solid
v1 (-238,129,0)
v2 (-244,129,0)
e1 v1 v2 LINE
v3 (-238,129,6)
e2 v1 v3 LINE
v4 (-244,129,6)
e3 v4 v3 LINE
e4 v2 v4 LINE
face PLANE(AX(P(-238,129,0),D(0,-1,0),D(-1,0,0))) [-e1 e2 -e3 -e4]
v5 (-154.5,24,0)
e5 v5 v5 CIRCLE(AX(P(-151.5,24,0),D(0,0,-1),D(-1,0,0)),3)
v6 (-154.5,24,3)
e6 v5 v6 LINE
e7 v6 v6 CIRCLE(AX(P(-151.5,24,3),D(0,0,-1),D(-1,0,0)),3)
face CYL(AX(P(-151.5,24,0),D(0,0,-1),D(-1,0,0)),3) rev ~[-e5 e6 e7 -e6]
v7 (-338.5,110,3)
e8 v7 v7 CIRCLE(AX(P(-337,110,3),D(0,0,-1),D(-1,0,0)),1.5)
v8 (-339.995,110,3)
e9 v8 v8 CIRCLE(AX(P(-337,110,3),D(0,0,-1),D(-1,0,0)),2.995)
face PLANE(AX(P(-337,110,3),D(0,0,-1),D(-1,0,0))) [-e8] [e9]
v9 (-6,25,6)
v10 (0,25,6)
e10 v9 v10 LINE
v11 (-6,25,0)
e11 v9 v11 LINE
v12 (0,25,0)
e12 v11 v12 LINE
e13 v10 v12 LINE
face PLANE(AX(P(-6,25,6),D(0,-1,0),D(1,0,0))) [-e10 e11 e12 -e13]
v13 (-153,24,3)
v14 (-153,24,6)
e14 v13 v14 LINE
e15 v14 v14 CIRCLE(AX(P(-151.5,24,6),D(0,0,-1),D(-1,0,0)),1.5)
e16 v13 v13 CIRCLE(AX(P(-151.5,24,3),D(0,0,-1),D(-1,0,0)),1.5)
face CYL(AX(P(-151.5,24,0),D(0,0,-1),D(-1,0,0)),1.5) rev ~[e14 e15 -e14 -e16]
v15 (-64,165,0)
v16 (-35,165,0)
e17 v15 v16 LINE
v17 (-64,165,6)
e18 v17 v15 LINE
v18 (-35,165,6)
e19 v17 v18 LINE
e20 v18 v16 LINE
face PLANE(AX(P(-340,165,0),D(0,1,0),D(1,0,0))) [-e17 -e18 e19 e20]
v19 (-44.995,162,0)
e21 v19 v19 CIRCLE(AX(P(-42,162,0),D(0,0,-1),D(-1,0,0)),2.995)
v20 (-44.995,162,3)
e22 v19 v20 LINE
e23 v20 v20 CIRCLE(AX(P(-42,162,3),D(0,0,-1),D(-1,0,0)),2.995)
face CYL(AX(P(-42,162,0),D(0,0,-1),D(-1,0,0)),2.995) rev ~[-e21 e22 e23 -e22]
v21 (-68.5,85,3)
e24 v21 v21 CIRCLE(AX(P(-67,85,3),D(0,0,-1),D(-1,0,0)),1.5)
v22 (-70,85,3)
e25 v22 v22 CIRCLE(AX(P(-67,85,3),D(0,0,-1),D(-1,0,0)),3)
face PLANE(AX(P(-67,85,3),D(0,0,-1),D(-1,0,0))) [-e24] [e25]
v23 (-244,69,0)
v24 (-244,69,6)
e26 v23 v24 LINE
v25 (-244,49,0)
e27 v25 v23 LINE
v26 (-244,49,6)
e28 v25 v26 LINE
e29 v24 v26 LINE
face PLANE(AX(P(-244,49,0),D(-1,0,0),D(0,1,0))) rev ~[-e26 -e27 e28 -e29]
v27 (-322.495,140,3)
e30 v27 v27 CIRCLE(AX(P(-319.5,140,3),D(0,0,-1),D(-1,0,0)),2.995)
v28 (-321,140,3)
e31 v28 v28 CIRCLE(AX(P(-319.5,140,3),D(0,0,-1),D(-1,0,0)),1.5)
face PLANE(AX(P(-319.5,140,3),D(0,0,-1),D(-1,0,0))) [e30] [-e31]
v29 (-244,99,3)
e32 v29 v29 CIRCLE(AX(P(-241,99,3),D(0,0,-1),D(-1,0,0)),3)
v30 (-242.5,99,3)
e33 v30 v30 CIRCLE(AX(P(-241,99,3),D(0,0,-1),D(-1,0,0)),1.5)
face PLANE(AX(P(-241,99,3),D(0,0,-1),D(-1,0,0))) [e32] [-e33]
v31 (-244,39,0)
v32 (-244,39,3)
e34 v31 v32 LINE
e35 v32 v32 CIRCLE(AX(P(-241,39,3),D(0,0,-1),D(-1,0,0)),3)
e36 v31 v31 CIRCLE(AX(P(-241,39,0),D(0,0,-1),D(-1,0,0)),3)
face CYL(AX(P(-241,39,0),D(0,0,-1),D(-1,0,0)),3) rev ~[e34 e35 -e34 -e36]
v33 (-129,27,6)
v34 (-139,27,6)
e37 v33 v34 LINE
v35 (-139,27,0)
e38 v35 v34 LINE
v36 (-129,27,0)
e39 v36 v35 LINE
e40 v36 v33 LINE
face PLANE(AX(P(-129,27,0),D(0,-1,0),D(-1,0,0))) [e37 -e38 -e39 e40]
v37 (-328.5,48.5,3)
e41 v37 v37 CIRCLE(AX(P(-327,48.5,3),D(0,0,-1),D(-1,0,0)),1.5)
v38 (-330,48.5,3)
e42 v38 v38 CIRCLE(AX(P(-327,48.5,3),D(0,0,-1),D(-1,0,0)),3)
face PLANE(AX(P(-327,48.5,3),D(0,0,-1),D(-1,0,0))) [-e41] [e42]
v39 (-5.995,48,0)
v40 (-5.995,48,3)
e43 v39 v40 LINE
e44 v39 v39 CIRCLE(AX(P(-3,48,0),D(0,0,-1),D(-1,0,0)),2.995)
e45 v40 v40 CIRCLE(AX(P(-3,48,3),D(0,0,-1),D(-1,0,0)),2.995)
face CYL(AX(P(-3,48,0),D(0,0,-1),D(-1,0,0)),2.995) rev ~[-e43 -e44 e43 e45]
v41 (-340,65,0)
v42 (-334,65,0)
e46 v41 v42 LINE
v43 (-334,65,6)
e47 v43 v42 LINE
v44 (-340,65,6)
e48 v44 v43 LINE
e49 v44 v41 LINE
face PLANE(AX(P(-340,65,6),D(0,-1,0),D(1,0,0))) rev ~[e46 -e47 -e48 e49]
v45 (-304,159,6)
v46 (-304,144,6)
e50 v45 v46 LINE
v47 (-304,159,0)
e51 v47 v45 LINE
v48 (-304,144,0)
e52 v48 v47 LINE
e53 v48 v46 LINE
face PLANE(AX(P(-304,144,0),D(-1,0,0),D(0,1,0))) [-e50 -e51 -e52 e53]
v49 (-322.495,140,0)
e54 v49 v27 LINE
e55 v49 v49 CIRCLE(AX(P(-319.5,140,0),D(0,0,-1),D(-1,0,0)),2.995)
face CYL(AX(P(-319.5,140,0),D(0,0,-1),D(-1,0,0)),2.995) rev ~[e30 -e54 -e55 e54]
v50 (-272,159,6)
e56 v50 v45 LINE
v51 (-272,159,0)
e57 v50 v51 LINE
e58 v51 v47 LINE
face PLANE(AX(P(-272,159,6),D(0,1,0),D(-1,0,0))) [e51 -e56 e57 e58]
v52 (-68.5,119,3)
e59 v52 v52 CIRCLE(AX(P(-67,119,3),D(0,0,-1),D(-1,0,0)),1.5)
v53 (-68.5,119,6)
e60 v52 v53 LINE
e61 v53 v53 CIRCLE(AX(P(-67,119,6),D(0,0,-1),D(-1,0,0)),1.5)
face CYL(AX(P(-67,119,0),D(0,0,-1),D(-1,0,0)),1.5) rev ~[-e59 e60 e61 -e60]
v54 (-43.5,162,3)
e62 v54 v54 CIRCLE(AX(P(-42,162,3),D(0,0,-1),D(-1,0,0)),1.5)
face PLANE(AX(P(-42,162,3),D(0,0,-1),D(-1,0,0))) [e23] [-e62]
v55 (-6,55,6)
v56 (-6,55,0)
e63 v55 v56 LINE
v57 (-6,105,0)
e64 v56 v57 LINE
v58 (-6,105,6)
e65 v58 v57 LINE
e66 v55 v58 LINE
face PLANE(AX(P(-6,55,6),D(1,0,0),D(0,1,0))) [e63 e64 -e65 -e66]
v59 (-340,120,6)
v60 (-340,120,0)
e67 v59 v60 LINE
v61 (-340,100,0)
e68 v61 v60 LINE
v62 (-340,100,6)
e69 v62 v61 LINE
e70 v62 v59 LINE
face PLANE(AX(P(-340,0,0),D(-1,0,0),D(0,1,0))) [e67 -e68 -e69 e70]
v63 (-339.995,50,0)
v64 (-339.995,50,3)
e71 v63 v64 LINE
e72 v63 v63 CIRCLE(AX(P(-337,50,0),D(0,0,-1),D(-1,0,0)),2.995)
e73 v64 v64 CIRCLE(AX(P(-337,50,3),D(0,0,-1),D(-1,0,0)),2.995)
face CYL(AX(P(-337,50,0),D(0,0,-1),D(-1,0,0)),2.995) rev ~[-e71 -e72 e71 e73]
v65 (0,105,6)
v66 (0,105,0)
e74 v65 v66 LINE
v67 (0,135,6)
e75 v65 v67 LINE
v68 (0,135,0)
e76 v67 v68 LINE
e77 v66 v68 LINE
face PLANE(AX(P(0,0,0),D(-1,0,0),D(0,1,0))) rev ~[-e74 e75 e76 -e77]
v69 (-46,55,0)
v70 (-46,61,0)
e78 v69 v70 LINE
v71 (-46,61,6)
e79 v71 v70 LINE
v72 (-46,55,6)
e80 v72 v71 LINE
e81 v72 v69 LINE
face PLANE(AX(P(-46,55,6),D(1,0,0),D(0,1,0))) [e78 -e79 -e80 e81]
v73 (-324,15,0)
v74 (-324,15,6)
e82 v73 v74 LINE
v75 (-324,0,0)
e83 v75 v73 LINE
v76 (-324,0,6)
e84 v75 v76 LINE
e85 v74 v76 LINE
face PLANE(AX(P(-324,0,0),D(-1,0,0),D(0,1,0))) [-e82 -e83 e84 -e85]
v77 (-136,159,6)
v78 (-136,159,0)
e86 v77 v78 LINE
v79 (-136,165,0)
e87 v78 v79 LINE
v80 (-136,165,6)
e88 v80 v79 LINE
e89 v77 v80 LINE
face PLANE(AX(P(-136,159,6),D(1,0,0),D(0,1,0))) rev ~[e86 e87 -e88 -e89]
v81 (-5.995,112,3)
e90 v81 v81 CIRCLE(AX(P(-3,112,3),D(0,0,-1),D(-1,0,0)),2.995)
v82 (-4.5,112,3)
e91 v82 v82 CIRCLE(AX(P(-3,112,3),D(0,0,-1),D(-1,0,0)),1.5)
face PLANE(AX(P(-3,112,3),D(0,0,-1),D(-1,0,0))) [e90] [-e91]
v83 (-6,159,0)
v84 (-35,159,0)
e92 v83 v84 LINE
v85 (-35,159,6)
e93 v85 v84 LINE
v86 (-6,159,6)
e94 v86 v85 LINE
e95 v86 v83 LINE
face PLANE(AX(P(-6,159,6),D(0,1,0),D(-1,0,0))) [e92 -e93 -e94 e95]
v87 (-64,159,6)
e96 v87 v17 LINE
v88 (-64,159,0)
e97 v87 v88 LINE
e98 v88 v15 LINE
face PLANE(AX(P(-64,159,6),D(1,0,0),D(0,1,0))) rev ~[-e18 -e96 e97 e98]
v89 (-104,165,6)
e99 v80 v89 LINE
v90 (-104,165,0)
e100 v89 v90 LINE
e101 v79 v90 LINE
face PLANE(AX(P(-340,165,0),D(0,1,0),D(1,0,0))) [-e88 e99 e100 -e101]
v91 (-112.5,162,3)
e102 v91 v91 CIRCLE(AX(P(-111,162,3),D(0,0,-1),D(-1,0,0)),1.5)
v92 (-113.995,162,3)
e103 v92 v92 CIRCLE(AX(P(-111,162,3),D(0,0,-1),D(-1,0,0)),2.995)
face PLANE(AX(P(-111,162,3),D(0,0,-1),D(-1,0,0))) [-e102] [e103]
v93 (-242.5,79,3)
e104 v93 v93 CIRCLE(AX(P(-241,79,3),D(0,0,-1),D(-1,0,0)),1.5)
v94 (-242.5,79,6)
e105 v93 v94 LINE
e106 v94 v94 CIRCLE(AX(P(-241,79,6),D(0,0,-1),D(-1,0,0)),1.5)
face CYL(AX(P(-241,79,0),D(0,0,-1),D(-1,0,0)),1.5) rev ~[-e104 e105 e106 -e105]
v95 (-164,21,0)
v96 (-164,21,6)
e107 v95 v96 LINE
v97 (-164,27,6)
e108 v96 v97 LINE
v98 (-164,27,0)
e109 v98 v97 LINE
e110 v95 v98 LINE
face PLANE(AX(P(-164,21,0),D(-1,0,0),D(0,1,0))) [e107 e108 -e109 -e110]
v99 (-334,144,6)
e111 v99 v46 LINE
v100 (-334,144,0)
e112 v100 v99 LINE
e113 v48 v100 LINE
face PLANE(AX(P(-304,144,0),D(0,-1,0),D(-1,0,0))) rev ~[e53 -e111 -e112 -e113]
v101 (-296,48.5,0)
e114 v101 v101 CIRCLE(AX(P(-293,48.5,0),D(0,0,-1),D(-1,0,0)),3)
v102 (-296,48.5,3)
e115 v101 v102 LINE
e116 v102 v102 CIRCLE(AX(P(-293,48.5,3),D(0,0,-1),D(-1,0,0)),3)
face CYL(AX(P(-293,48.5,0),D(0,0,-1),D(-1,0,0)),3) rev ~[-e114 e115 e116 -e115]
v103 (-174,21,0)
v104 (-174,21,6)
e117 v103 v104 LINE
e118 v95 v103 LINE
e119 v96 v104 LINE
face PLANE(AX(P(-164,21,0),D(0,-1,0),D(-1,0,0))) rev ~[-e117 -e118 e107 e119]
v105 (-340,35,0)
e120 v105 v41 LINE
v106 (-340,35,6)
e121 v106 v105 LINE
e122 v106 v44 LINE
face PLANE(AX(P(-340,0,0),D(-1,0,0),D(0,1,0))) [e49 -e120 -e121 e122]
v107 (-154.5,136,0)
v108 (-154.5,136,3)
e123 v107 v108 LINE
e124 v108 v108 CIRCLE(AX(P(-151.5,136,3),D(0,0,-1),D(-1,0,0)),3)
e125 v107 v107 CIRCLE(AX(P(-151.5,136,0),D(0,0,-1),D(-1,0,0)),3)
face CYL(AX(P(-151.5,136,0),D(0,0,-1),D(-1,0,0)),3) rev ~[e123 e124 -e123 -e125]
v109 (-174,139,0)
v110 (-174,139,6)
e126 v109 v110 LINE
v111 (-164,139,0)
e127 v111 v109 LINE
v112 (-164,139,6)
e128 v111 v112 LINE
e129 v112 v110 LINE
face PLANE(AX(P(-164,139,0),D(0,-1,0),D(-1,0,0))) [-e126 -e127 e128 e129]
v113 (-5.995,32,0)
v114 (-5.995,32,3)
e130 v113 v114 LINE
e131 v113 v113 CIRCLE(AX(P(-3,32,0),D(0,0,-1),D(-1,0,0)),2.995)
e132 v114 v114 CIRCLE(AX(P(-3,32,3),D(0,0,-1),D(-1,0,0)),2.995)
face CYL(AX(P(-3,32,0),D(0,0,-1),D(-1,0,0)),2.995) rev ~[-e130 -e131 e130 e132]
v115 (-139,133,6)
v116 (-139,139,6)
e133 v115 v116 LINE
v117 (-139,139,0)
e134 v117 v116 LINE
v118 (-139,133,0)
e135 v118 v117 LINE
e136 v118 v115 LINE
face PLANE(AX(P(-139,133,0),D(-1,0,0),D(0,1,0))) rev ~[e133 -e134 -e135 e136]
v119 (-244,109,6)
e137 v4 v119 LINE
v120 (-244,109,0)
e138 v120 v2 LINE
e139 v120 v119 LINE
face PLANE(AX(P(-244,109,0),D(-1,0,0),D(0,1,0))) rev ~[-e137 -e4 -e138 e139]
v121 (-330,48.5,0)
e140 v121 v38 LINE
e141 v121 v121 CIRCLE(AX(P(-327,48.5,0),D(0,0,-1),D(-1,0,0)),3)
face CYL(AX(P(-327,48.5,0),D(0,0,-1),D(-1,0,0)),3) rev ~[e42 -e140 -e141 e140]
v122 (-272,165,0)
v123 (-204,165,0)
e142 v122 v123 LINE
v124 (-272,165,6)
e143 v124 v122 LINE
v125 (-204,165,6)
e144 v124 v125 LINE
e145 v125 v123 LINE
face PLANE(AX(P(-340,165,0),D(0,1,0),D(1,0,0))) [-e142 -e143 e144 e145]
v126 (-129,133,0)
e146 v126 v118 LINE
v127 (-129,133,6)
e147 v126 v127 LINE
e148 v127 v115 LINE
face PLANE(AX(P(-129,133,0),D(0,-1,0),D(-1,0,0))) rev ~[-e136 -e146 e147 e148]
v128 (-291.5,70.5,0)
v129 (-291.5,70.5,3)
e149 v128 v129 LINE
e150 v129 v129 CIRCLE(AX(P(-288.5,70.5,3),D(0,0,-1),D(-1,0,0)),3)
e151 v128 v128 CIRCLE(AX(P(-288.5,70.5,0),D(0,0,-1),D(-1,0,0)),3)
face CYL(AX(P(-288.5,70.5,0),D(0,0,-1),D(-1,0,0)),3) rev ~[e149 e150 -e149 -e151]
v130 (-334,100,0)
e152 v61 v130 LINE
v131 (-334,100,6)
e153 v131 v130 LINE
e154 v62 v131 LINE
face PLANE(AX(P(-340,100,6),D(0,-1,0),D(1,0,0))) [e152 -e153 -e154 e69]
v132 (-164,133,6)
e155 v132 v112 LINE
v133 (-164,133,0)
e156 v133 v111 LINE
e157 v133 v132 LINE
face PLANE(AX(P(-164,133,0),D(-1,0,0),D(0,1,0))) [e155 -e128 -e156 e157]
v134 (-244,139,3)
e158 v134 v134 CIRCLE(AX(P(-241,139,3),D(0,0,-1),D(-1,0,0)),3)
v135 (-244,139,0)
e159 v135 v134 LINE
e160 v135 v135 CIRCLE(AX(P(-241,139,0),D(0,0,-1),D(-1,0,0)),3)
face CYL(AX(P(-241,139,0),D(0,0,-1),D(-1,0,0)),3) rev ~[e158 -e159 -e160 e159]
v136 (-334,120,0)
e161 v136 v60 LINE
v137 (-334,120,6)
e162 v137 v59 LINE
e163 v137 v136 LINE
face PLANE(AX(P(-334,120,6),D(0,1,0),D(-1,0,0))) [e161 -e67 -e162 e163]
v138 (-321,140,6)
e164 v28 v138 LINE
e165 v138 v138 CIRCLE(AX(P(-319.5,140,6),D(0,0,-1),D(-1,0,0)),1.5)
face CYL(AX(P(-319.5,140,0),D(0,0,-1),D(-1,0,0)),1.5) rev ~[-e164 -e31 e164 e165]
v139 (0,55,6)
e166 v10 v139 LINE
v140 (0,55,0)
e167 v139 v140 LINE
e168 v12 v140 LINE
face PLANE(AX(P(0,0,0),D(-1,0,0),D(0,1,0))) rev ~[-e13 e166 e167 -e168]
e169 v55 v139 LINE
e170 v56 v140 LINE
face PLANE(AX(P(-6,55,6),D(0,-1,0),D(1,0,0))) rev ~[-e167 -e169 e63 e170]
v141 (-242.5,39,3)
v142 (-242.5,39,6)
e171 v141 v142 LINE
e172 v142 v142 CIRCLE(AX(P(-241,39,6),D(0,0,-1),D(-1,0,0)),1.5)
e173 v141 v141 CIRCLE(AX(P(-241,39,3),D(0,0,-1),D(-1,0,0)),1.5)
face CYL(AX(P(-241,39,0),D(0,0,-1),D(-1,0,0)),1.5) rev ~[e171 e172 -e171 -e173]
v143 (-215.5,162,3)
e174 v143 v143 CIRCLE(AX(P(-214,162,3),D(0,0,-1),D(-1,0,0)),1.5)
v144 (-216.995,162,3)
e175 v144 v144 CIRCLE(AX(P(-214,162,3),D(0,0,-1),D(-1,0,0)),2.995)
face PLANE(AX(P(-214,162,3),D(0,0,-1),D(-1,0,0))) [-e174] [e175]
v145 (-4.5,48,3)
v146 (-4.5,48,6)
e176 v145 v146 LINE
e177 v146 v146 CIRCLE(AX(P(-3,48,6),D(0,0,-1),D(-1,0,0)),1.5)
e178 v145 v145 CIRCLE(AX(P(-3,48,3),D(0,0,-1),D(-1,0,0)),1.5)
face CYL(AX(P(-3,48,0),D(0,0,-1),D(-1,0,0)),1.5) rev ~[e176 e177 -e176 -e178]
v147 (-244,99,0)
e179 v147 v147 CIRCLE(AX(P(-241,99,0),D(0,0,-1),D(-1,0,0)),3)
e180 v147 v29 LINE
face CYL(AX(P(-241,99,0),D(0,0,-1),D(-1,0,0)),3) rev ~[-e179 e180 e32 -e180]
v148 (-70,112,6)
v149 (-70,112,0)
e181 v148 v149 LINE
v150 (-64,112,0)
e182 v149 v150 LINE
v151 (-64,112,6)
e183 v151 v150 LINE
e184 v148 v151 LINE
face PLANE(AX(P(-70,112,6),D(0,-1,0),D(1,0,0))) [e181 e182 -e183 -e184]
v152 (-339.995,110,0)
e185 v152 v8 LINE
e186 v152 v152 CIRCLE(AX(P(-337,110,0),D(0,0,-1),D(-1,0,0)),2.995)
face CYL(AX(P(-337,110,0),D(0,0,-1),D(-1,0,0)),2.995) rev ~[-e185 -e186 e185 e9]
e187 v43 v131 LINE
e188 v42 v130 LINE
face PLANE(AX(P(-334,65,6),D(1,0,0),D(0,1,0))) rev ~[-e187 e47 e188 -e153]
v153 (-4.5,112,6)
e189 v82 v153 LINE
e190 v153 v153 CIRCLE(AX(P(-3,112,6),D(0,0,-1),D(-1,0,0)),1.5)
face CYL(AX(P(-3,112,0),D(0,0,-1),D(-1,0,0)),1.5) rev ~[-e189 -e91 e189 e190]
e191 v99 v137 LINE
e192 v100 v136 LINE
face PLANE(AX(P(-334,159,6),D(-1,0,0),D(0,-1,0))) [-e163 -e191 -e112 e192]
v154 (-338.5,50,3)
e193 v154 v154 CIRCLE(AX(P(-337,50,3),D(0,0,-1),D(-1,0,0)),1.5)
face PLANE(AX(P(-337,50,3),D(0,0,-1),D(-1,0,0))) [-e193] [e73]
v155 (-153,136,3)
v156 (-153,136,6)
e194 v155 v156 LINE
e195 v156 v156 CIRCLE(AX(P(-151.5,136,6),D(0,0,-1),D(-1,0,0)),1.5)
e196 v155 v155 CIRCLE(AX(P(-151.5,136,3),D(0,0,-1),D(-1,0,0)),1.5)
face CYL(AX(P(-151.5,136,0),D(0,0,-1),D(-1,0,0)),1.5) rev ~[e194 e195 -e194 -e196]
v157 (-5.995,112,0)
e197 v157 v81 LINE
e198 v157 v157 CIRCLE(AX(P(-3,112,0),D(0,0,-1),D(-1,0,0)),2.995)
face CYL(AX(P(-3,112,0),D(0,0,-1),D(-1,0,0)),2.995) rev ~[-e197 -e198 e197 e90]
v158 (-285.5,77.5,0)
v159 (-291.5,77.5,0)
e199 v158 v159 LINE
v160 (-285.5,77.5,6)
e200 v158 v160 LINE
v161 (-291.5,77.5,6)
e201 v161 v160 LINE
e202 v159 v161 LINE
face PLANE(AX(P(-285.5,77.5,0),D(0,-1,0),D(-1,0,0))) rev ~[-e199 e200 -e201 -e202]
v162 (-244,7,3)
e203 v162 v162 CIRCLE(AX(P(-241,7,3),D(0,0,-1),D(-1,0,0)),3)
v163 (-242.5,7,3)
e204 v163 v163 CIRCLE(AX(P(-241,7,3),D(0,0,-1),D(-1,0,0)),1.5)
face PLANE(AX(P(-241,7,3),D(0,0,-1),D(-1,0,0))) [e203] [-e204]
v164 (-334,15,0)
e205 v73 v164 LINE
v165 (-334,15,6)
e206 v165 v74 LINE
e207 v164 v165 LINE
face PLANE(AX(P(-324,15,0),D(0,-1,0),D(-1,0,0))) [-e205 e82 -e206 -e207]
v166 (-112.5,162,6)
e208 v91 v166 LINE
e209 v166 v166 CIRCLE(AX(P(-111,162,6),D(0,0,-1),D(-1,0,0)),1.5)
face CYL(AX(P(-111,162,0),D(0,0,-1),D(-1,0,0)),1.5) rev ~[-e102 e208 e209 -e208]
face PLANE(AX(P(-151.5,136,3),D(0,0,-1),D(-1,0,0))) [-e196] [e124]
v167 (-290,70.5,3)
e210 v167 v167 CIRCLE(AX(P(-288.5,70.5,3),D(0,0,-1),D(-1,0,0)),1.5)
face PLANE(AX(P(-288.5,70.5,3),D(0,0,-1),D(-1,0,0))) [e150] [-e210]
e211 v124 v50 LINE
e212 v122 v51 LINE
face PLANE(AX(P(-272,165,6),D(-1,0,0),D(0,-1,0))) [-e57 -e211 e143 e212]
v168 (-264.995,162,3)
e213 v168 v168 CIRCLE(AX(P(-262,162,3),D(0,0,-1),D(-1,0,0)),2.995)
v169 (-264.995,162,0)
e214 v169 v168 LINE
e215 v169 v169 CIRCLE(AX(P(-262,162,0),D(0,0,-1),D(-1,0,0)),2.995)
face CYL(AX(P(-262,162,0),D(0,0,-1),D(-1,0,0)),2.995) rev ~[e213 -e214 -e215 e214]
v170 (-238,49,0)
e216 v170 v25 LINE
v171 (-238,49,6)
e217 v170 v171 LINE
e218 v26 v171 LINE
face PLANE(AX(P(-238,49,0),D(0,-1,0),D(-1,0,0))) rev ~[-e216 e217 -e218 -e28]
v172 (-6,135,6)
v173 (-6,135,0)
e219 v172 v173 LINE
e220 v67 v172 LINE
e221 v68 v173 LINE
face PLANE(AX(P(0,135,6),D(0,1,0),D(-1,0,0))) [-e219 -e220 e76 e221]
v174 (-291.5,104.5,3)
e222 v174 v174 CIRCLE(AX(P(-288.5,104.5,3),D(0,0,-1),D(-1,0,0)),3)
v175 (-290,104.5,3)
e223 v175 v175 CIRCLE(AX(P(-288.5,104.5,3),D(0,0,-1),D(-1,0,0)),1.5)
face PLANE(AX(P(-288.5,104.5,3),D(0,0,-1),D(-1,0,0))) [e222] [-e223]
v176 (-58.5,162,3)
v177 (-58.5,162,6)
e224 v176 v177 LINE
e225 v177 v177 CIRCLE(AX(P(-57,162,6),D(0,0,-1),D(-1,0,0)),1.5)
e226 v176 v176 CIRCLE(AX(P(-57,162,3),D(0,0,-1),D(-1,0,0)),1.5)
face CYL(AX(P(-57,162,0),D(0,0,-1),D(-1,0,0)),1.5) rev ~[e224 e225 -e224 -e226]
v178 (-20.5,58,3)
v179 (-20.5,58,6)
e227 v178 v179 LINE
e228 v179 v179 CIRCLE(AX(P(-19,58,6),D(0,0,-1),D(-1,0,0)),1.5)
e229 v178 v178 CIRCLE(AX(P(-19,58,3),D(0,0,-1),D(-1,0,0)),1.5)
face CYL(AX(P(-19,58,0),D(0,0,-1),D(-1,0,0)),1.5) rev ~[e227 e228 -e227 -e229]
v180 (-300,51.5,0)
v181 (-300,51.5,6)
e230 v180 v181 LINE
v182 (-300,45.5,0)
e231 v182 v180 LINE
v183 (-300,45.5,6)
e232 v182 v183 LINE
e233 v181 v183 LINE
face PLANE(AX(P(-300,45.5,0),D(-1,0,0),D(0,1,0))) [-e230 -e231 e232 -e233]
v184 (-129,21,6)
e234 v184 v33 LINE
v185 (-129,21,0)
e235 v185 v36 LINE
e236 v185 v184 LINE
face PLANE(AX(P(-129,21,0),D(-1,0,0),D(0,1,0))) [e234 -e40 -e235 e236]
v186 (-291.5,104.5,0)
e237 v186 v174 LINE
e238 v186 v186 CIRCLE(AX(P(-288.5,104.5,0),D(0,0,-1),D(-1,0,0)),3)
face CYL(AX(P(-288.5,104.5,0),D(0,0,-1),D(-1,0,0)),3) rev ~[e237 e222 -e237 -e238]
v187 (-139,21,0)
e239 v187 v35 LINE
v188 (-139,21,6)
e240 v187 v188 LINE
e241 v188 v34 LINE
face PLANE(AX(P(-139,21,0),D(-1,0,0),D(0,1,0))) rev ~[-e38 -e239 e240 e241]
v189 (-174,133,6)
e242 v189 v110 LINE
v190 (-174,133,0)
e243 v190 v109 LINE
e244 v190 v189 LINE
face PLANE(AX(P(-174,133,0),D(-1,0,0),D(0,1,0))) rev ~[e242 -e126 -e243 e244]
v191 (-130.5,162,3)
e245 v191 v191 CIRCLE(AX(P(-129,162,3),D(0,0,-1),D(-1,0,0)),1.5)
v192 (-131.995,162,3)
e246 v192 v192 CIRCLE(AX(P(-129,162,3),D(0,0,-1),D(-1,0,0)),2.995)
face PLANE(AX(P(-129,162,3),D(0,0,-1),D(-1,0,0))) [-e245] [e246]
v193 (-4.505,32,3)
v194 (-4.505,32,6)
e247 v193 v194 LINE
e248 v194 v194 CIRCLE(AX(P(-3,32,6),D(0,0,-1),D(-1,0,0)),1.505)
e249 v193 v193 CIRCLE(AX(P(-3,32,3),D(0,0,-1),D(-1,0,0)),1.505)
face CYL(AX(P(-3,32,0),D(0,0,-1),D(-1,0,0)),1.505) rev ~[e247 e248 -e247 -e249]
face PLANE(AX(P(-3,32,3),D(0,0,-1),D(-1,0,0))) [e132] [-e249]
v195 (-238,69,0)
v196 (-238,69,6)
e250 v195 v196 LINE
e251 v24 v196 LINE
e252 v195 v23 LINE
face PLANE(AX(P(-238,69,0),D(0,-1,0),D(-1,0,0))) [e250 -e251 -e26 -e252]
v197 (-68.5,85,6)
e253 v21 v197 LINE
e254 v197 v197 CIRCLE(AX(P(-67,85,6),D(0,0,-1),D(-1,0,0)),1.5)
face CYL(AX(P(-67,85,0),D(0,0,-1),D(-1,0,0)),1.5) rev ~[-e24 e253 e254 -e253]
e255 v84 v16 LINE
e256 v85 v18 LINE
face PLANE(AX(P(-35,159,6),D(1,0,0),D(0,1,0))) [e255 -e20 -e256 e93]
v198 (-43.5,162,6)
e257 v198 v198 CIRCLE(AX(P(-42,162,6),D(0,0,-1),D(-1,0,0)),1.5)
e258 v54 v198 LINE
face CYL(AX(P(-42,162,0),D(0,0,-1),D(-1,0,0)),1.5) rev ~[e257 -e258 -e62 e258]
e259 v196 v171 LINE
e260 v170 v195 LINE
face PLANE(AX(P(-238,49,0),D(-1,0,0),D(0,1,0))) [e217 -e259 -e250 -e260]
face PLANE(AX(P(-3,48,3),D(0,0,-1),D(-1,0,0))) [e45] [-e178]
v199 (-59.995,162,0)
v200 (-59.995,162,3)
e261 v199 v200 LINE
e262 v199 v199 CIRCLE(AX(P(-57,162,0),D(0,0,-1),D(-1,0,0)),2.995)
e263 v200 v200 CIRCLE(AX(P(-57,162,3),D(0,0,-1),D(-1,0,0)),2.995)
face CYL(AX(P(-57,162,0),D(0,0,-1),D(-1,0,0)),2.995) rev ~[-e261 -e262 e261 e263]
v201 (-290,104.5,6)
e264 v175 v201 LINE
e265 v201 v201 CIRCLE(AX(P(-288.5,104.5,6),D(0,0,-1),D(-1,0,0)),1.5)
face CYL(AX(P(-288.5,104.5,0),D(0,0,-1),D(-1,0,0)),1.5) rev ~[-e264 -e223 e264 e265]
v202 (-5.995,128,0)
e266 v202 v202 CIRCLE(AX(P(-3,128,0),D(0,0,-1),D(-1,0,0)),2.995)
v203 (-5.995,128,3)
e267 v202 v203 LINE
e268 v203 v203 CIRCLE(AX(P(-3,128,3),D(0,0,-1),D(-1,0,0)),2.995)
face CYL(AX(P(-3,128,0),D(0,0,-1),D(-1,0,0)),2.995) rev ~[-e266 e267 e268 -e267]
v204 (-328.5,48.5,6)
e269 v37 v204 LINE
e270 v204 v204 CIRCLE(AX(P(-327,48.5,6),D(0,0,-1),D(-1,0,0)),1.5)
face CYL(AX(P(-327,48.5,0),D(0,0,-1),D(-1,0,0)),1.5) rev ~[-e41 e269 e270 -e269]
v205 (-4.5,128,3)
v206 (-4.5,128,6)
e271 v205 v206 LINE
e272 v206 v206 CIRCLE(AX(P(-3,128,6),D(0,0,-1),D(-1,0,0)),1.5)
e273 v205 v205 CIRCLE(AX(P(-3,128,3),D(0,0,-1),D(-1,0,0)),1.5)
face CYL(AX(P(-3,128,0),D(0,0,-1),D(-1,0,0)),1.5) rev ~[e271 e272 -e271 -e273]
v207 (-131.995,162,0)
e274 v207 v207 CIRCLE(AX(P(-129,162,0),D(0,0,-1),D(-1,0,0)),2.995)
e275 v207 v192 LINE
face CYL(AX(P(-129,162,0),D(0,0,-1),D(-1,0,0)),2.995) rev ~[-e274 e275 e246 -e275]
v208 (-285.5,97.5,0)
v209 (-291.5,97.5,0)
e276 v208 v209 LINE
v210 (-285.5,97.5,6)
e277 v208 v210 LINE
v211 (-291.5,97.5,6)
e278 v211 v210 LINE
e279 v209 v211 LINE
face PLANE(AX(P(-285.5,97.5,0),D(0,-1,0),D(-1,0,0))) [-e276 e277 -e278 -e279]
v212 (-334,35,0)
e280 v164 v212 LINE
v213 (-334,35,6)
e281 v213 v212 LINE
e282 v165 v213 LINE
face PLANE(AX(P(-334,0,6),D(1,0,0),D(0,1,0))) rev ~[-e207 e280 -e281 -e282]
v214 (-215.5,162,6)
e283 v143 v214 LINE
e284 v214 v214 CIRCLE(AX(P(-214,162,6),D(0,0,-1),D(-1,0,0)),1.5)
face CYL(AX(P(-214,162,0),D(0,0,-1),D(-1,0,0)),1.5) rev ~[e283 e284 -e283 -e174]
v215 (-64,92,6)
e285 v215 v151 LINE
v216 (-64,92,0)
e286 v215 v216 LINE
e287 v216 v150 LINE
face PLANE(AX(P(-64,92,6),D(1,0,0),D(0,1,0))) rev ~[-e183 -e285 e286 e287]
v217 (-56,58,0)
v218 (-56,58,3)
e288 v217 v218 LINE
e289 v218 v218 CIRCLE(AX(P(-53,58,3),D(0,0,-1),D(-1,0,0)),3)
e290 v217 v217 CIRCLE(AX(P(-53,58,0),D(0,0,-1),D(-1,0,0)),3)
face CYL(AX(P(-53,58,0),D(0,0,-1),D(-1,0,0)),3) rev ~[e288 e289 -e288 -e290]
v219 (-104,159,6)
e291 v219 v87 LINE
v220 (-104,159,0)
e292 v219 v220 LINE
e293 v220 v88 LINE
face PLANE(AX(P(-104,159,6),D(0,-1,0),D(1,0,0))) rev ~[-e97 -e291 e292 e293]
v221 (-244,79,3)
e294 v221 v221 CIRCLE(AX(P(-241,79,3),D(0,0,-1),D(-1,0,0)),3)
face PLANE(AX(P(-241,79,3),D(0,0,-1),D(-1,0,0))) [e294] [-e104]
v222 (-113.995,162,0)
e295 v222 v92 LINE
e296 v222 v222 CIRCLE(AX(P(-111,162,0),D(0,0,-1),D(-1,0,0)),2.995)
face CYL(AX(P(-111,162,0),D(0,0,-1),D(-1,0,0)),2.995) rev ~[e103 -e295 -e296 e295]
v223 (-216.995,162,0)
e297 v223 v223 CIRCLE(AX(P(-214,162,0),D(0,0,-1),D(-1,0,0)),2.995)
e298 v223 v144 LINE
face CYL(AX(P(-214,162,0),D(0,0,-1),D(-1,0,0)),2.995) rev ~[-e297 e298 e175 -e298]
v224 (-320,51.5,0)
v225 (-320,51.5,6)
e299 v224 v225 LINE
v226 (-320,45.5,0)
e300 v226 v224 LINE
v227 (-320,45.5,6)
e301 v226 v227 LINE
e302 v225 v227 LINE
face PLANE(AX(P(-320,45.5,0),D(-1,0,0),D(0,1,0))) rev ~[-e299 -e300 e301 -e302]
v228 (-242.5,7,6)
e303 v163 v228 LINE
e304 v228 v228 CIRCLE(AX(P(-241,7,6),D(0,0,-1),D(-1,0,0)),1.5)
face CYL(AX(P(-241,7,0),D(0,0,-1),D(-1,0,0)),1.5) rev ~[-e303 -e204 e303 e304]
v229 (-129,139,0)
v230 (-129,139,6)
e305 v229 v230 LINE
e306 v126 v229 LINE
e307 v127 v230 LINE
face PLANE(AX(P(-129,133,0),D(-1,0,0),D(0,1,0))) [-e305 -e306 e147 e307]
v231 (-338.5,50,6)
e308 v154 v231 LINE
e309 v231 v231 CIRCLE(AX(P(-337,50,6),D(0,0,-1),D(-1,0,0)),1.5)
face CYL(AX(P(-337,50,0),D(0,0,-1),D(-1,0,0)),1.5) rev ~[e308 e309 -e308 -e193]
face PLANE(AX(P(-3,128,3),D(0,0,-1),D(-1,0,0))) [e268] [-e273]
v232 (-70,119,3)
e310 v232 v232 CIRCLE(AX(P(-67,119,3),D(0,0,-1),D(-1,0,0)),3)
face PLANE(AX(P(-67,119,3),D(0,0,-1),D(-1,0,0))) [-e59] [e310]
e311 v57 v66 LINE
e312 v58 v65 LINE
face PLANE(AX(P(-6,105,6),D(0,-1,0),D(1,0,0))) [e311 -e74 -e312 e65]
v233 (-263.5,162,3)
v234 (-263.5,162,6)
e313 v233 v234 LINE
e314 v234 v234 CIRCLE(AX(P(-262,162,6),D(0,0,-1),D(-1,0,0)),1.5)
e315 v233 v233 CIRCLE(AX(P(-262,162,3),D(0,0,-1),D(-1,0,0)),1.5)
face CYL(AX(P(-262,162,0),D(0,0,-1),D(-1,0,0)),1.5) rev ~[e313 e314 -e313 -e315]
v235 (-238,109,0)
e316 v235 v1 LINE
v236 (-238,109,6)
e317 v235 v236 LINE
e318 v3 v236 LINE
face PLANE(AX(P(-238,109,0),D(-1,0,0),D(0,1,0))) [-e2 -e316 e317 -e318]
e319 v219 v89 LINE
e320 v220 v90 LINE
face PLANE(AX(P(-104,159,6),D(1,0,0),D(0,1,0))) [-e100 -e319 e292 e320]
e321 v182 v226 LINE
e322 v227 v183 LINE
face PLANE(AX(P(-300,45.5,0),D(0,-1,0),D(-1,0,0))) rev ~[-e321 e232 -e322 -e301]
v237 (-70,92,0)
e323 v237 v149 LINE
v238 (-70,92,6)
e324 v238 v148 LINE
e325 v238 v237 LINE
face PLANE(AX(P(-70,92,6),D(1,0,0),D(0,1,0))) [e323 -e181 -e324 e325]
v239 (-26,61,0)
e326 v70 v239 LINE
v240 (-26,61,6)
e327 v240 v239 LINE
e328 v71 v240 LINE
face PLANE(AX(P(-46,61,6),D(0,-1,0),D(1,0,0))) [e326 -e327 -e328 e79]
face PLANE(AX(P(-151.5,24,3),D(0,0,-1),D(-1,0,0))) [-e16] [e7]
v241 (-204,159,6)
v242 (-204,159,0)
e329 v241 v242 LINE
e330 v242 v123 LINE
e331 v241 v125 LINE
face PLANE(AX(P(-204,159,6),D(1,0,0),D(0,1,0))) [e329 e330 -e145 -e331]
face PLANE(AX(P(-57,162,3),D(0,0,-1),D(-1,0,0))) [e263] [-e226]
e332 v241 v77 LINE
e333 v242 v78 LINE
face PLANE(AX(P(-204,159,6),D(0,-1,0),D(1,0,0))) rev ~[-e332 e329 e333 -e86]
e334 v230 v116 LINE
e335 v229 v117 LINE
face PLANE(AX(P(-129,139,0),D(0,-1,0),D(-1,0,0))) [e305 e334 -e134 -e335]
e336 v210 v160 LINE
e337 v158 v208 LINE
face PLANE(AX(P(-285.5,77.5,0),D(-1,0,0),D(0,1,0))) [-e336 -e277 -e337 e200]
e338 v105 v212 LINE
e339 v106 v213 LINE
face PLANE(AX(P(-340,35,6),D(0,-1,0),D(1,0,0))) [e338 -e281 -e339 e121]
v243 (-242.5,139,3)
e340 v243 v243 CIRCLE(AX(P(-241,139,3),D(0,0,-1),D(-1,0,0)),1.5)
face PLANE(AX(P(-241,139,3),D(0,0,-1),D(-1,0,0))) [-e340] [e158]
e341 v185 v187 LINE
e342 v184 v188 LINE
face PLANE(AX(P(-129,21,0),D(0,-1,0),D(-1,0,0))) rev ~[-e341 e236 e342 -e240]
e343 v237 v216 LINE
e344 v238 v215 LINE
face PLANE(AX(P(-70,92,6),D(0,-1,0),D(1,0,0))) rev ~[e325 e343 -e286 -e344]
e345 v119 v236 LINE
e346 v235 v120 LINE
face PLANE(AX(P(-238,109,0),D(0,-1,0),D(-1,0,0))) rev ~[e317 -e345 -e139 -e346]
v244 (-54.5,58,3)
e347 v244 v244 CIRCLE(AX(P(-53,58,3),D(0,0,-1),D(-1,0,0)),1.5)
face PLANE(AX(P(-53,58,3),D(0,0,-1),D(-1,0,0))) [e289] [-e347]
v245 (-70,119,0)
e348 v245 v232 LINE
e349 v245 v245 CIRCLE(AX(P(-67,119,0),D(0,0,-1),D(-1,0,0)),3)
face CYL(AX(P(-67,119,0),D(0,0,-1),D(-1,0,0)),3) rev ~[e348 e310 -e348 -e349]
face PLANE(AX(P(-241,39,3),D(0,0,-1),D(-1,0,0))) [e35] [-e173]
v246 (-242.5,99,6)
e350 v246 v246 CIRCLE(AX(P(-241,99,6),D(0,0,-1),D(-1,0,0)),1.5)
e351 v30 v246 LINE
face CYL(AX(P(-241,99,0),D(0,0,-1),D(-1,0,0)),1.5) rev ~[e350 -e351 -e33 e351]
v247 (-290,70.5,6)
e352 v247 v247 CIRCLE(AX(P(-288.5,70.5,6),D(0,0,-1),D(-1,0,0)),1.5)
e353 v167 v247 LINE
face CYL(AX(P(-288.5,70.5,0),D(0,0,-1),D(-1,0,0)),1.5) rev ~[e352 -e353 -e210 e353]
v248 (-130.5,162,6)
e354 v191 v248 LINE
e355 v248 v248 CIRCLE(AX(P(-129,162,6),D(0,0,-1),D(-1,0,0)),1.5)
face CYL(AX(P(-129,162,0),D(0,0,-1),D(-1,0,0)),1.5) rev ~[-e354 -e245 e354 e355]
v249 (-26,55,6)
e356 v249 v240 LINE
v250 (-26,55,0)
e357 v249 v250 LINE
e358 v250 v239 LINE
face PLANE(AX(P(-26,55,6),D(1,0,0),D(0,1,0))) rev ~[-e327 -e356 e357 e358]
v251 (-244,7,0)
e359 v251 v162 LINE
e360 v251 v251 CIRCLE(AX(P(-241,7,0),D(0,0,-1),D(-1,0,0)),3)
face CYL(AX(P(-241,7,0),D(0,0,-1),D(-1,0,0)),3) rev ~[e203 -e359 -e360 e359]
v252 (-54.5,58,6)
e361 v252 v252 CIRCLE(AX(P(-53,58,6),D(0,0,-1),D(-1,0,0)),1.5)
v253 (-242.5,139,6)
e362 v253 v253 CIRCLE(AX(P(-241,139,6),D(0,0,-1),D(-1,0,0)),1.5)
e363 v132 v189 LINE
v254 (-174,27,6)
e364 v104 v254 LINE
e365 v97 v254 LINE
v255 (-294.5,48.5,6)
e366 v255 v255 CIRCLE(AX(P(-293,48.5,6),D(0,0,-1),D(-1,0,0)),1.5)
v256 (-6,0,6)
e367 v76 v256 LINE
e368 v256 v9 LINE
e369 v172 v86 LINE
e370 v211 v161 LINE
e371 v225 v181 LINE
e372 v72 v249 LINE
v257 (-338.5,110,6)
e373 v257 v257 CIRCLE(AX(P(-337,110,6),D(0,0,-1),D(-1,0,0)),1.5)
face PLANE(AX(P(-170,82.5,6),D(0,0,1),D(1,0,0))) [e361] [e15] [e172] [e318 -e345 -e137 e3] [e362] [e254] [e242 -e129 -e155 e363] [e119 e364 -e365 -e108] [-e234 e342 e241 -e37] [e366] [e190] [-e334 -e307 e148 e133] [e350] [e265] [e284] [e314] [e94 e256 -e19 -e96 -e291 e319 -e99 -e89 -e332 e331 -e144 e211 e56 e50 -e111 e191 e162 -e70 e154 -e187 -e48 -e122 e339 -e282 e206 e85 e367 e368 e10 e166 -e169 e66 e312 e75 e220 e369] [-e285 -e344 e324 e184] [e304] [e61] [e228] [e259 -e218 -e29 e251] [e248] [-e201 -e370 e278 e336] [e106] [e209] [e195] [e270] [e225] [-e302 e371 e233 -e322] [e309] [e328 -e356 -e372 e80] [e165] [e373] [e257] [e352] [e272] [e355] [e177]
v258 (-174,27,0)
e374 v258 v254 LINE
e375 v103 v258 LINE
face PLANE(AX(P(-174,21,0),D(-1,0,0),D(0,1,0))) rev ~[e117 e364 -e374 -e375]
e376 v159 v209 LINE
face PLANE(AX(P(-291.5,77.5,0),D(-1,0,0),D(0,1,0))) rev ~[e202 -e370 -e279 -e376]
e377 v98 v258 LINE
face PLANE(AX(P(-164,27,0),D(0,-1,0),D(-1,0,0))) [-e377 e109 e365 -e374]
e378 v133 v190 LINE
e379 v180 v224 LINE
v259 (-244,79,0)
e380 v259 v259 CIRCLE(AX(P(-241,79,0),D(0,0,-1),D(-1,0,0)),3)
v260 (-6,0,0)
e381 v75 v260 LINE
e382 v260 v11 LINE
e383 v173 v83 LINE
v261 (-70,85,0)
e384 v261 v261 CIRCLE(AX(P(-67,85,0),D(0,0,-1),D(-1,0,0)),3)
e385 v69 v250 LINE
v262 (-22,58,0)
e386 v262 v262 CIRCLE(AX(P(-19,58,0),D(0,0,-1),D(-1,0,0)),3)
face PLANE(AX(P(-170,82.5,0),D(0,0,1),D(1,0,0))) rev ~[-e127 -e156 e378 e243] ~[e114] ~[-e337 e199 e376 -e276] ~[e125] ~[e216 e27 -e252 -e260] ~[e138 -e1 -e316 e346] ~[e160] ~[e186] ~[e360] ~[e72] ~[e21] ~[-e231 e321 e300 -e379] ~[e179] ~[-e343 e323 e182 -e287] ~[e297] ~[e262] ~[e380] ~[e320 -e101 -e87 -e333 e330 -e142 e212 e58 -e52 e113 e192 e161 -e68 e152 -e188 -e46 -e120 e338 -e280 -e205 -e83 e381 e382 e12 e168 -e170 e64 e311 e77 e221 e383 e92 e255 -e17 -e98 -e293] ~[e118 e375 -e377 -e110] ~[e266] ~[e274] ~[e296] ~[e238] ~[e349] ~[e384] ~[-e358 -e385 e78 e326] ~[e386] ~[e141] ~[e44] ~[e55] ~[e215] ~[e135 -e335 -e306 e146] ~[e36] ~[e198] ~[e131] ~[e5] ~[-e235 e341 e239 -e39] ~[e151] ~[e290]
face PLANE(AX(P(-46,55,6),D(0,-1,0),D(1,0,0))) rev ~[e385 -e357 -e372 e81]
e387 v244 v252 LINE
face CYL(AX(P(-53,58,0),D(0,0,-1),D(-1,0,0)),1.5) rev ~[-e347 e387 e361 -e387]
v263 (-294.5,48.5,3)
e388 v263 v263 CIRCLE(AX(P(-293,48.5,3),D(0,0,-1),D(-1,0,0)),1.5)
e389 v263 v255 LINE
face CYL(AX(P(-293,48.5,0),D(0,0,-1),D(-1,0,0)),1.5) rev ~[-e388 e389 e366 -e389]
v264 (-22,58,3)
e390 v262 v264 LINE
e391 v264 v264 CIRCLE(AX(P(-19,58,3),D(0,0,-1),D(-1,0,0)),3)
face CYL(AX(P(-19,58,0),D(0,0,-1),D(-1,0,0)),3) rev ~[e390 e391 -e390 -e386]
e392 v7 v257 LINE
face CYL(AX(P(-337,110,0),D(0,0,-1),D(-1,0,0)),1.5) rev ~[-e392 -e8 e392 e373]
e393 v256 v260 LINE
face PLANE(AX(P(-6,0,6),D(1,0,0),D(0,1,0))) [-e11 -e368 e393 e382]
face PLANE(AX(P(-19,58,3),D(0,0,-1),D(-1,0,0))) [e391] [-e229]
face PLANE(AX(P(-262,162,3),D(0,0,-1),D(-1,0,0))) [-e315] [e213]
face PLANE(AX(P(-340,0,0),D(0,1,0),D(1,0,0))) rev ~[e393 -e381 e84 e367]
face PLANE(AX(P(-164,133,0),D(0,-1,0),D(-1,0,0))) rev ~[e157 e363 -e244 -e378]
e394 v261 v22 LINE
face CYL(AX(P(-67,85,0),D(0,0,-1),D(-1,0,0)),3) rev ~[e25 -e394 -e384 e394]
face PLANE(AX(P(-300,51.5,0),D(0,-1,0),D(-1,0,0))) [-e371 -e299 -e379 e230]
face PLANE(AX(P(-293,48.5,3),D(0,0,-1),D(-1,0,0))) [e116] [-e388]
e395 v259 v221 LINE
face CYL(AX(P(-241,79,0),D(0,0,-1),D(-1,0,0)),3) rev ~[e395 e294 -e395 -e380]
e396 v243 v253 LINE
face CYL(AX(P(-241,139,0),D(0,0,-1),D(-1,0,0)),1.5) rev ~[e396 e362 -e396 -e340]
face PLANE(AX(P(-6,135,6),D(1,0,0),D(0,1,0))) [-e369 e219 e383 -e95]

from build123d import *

# Parameters (mm, degrees)
ESQUISSE1_W             = 340
ESQUISSE1_H             = 165
BOSS_EXTRU_1_DEPTH      = 6
ESQUISSE2_W             = 6
ESQUISSE2_H             = 35
ESQUISSE2_H_2           = 20
ESQUISSE2_W_2           = 68
ESQUISSE2_H_3           = 6
ESQUISSE2_H_4           = 25
ESQUISSE2_W_3           = 40
ESQUISSE2_H_5           = 50
ESQUISSE2_W_4           = 20
ENL_V_MAT_EXTRU_1_DEPTH = 6
ESQUISSE3_W             = 6
ESQUISSE3_H             = 20
ESQUISSE3_W_2           = 20
ESQUISSE3_H_2           = 6
ESQUISSE3_W_3           = 30
ESQUISSE3_H_3           = 15
ENL_V_MAT_EXTRU_2_DEPTH = 10
ESQUISSE5_R             = 1.5
ESQUISSE5_W             = 10
ESQUISSE5_H             = 6
ENL_V_MAT_EXTRU_4_DEPTH = 6
ESQUISSE7_R             = 1.5
ESQUISSE7_R_2           = 1.505
ESQUISSE7_W             = 10
ESQUISSE7_H             = 15
ENL_V_MAT_EXTRU_7_DEPTH = 378.969575495
ESQUISSE8_R             = 2.995
ESQUISSE8_R_2           = 3
ENL_V_MAT_EXTRU_9_DEPTH = 3


with BuildPart() as part:
    # Esquisse1 → Boss.-Extru.1 (new body)
    with BuildSketch(Plane.XY):
        with Locations((-170, 82.5)):
            Rectangle(ESQUISSE1_W, ESQUISSE1_H)
    extrude(amount=BOSS_EXTRU_1_DEPTH)

    # Esquisse2 → Enlèv. mat.-Extru.1 (cut)
    with BuildSketch(Plane.XY.offset(6)):
        Polygon((0, 165), (0, 135), (-6, 135), (-6, 159), (-35, 159), (-35, 165), align=None)
        Polygon((-340, 165), (-272, 165), (-272, 159), (-334, 159), (-334, 120), (-340, 120), align=None)
        with Locations((-337, 82.5)):
            Rectangle(ESQUISSE2_W, ESQUISSE2_H)
        with Locations((-67, 102)):
            Rectangle(ESQUISSE2_W, ESQUISSE2_H_2)
        with Locations((-170, 162)):
            Rectangle(ESQUISSE2_W_2, ESQUISSE2_H_3)
        with Locations((-3, 12.5)):
            Rectangle(ESQUISSE2_W, ESQUISSE2_H_4)
        with Locations((-337, 17.5)):
            Rectangle(ESQUISSE2_W, ESQUISSE2_H)
        with Locations((-84, 162)):
            Rectangle(ESQUISSE2_W_3, ESQUISSE2_H_3)
        with Locations((-3, 80)):
            Rectangle(ESQUISSE2_W, ESQUISSE2_H_5)
        with Locations((-36, 58)):
            Rectangle(ESQUISSE2_W_4, ESQUISSE2_H_3)
    extrude(amount=-ENL_V_MAT_EXTRU_1_DEPTH, mode=Mode.SUBTRACT)

    # Esquisse3 → Enlèv. mat.-Extru.2 (cut)
    with BuildSketch(Plane(origin=(0, 0, 0), x_dir=(-1, 0, 0), z_dir=(0, 0, -1))):
        with Locations((241, 119)):
            Rectangle(ESQUISSE3_W, ESQUISSE3_H)
        with Locations((241, 59)):
            Rectangle(ESQUISSE3_W, ESQUISSE3_H)
        with Locations((288.5, 87.5)):
            Rectangle(ESQUISSE3_W, ESQUISSE3_H)
        with Locations((310, 48.5)):
            Rectangle(ESQUISSE3_W_2, ESQUISSE3_H_2)
        with Locations((319, 151.5)):
            Rectangle(ESQUISSE3_W_3, ESQUISSE3_H_3)
    extrude(amount=-ENL_V_MAT_EXTRU_2_DEPTH, mode=Mode.SUBTRACT)

    # Esquisse5 → Enlèv. mat.-Extru.4 (cut)
    with BuildSketch(Plane(origin=(0, 0, 0), x_dir=(-1, 0, 0), z_dir=(0, 0, -1))):
        with Locations((151.5, 136)):
            Circle(ESQUISSE5_R)
        with Locations((151.5, 24)):
            Circle(ESQUISSE5_R)
        with Locations((134, 136)):
            Rectangle(ESQUISSE5_W, ESQUISSE5_H)
        with Locations((169, 136)):
            Rectangle(ESQUISSE5_W, ESQUISSE5_H)
        with Locations((134, 24)):
            Rectangle(ESQUISSE5_W, ESQUISSE5_H)
        with Locations((169, 24)):
            Rectangle(ESQUISSE5_W, ESQUISSE5_H)
    extrude(amount=-ENL_V_MAT_EXTRU_4_DEPTH, mode=Mode.SUBTRACT)

    # Esquisse7 → Enlèv. mat.-Extru.7 (cut, through all)
    with BuildSketch(Plane(origin=(0, 0, 0), x_dir=(-1, 0, 0), z_dir=(0, 0, -1))):
        with Locations((337, 50)):
            Circle(ESQUISSE7_R)
        with Locations((319.5, 140)):
            Circle(ESQUISSE7_R)
        with Locations((42, 162)):
            Circle(ESQUISSE7_R)
        with Locations((293, 48.5)):
            Circle(ESQUISSE7_R)
        with Locations((327, 48.5)):
            Circle(ESQUISSE7_R)
        with Locations((288.5, 70.5)):
            Circle(ESQUISSE7_R)
        with Locations((288.5, 104.5)):
            Circle(ESQUISSE7_R)
        with Locations((241, 39)):
            Circle(ESQUISSE7_R)
        with Locations((241, 79)):
            Circle(ESQUISSE7_R)
        with Locations((241, 99)):
            Circle(ESQUISSE7_R)
        with Locations((241, 139)):
            Circle(ESQUISSE7_R)
        with Locations((241, 7)):
            Circle(ESQUISSE7_R)
        with Locations((57, 162)):
            Circle(ESQUISSE7_R)
        with Locations((262, 162)):
            Circle(ESQUISSE7_R)
        with Locations((214, 162)):
            Circle(ESQUISSE7_R)
        with Locations((111, 162)):
            Circle(ESQUISSE7_R)
        with Locations((138, 162)):
            Circle(ESQUISSE7_R)
        with Locations((129, 162)):
            Circle(ESQUISSE7_R)
        with Locations((67, 85)):
            Circle(ESQUISSE7_R)
        with Locations((67, 119)):
            Circle(ESQUISSE7_R)
        with Locations((53, 58)):
            Circle(ESQUISSE7_R)
        with Locations((19, 58)):
            Circle(ESQUISSE7_R)
        with Locations((3, 32)):
            Circle(ESQUISSE7_R_2)
        with Locations((3, 48)):
            Circle(ESQUISSE7_R)
        with Locations((3, 112)):
            Circle(ESQUISSE7_R)
        with Locations((3, 128)):
            Circle(ESQUISSE7_R)
        with Locations((337, 110)):
            Circle(ESQUISSE7_R)
        with Locations((329, 7.5)):
            Rectangle(ESQUISSE7_W, ESQUISSE7_H)
    extrude(amount=-ENL_V_MAT_EXTRU_7_DEPTH, mode=Mode.SUBTRACT)

    # Esquisse8 → Enlèv. mat.-Extru.9 (cut)
    with BuildSketch(Plane(origin=(0, 0, 0), x_dir=(-1, 0, 0), z_dir=(0, 0, -1))):
        with Locations((3, 32)):
            Circle(ESQUISSE8_R)
        with Locations((3, 48)):
            Circle(ESQUISSE8_R)
        with Locations((19, 58)):
            Circle(ESQUISSE8_R_2)
        with Locations((3, 112)):
            Circle(ESQUISSE8_R)
        with Locations((3, 128)):
            Circle(ESQUISSE8_R)
        with Locations((53, 58)):
            Circle(ESQUISSE8_R_2)
        with Locations((67, 85)):
            Circle(ESQUISSE8_R_2)
        with Locations((67, 119)):
            Circle(ESQUISSE8_R_2)
        with Locations((111, 162)):
            Circle(ESQUISSE8_R)
        with Locations((42, 162)):
            Circle(ESQUISSE8_R)
        with Locations((129, 162)):
            Circle(ESQUISSE8_R)
        with Locations((151.5, 136)):
            Circle(ESQUISSE8_R_2)
        with Locations((151.5, 24)):
            Circle(ESQUISSE8_R_2)
        with Locations((214, 162)):
            Circle(ESQUISSE8_R)
        with Locations((57, 162)):
            Circle(ESQUISSE8_R)
        with Locations((262, 162)):
            Circle(ESQUISSE8_R)
        with Locations((241, 139)):
            Circle(ESQUISSE8_R_2)
        with Locations((241, 99)):
            Circle(ESQUISSE8_R_2)
        with Locations((241, 79)):
            Circle(ESQUISSE8_R_2)
        with Locations((241, 39)):
            Circle(ESQUISSE8_R_2)
        with Locations((241, 7)):
            Circle(ESQUISSE8_R_2)
        with Locations((337, 50)):
            Circle(ESQUISSE8_R)
        with Locations((327, 48.5)):
            Circle(ESQUISSE8_R_2)
        with Locations((293, 48.5)):
            Circle(ESQUISSE8_R_2)
        with Locations((288.5, 70.5)):
            Circle(ESQUISSE8_R_2)
        with Locations((288.5, 104.5)):
            Circle(ESQUISSE8_R_2)
        with Locations((319.5, 140)):
            Circle(ESQUISSE8_R)
        with Locations((337, 110)):
            Circle(ESQUISSE8_R)
    extrude(amount=-ENL_V_MAT_EXTRU_9_DEPTH, mode=Mode.SUBTRACT)


solid = part.part
